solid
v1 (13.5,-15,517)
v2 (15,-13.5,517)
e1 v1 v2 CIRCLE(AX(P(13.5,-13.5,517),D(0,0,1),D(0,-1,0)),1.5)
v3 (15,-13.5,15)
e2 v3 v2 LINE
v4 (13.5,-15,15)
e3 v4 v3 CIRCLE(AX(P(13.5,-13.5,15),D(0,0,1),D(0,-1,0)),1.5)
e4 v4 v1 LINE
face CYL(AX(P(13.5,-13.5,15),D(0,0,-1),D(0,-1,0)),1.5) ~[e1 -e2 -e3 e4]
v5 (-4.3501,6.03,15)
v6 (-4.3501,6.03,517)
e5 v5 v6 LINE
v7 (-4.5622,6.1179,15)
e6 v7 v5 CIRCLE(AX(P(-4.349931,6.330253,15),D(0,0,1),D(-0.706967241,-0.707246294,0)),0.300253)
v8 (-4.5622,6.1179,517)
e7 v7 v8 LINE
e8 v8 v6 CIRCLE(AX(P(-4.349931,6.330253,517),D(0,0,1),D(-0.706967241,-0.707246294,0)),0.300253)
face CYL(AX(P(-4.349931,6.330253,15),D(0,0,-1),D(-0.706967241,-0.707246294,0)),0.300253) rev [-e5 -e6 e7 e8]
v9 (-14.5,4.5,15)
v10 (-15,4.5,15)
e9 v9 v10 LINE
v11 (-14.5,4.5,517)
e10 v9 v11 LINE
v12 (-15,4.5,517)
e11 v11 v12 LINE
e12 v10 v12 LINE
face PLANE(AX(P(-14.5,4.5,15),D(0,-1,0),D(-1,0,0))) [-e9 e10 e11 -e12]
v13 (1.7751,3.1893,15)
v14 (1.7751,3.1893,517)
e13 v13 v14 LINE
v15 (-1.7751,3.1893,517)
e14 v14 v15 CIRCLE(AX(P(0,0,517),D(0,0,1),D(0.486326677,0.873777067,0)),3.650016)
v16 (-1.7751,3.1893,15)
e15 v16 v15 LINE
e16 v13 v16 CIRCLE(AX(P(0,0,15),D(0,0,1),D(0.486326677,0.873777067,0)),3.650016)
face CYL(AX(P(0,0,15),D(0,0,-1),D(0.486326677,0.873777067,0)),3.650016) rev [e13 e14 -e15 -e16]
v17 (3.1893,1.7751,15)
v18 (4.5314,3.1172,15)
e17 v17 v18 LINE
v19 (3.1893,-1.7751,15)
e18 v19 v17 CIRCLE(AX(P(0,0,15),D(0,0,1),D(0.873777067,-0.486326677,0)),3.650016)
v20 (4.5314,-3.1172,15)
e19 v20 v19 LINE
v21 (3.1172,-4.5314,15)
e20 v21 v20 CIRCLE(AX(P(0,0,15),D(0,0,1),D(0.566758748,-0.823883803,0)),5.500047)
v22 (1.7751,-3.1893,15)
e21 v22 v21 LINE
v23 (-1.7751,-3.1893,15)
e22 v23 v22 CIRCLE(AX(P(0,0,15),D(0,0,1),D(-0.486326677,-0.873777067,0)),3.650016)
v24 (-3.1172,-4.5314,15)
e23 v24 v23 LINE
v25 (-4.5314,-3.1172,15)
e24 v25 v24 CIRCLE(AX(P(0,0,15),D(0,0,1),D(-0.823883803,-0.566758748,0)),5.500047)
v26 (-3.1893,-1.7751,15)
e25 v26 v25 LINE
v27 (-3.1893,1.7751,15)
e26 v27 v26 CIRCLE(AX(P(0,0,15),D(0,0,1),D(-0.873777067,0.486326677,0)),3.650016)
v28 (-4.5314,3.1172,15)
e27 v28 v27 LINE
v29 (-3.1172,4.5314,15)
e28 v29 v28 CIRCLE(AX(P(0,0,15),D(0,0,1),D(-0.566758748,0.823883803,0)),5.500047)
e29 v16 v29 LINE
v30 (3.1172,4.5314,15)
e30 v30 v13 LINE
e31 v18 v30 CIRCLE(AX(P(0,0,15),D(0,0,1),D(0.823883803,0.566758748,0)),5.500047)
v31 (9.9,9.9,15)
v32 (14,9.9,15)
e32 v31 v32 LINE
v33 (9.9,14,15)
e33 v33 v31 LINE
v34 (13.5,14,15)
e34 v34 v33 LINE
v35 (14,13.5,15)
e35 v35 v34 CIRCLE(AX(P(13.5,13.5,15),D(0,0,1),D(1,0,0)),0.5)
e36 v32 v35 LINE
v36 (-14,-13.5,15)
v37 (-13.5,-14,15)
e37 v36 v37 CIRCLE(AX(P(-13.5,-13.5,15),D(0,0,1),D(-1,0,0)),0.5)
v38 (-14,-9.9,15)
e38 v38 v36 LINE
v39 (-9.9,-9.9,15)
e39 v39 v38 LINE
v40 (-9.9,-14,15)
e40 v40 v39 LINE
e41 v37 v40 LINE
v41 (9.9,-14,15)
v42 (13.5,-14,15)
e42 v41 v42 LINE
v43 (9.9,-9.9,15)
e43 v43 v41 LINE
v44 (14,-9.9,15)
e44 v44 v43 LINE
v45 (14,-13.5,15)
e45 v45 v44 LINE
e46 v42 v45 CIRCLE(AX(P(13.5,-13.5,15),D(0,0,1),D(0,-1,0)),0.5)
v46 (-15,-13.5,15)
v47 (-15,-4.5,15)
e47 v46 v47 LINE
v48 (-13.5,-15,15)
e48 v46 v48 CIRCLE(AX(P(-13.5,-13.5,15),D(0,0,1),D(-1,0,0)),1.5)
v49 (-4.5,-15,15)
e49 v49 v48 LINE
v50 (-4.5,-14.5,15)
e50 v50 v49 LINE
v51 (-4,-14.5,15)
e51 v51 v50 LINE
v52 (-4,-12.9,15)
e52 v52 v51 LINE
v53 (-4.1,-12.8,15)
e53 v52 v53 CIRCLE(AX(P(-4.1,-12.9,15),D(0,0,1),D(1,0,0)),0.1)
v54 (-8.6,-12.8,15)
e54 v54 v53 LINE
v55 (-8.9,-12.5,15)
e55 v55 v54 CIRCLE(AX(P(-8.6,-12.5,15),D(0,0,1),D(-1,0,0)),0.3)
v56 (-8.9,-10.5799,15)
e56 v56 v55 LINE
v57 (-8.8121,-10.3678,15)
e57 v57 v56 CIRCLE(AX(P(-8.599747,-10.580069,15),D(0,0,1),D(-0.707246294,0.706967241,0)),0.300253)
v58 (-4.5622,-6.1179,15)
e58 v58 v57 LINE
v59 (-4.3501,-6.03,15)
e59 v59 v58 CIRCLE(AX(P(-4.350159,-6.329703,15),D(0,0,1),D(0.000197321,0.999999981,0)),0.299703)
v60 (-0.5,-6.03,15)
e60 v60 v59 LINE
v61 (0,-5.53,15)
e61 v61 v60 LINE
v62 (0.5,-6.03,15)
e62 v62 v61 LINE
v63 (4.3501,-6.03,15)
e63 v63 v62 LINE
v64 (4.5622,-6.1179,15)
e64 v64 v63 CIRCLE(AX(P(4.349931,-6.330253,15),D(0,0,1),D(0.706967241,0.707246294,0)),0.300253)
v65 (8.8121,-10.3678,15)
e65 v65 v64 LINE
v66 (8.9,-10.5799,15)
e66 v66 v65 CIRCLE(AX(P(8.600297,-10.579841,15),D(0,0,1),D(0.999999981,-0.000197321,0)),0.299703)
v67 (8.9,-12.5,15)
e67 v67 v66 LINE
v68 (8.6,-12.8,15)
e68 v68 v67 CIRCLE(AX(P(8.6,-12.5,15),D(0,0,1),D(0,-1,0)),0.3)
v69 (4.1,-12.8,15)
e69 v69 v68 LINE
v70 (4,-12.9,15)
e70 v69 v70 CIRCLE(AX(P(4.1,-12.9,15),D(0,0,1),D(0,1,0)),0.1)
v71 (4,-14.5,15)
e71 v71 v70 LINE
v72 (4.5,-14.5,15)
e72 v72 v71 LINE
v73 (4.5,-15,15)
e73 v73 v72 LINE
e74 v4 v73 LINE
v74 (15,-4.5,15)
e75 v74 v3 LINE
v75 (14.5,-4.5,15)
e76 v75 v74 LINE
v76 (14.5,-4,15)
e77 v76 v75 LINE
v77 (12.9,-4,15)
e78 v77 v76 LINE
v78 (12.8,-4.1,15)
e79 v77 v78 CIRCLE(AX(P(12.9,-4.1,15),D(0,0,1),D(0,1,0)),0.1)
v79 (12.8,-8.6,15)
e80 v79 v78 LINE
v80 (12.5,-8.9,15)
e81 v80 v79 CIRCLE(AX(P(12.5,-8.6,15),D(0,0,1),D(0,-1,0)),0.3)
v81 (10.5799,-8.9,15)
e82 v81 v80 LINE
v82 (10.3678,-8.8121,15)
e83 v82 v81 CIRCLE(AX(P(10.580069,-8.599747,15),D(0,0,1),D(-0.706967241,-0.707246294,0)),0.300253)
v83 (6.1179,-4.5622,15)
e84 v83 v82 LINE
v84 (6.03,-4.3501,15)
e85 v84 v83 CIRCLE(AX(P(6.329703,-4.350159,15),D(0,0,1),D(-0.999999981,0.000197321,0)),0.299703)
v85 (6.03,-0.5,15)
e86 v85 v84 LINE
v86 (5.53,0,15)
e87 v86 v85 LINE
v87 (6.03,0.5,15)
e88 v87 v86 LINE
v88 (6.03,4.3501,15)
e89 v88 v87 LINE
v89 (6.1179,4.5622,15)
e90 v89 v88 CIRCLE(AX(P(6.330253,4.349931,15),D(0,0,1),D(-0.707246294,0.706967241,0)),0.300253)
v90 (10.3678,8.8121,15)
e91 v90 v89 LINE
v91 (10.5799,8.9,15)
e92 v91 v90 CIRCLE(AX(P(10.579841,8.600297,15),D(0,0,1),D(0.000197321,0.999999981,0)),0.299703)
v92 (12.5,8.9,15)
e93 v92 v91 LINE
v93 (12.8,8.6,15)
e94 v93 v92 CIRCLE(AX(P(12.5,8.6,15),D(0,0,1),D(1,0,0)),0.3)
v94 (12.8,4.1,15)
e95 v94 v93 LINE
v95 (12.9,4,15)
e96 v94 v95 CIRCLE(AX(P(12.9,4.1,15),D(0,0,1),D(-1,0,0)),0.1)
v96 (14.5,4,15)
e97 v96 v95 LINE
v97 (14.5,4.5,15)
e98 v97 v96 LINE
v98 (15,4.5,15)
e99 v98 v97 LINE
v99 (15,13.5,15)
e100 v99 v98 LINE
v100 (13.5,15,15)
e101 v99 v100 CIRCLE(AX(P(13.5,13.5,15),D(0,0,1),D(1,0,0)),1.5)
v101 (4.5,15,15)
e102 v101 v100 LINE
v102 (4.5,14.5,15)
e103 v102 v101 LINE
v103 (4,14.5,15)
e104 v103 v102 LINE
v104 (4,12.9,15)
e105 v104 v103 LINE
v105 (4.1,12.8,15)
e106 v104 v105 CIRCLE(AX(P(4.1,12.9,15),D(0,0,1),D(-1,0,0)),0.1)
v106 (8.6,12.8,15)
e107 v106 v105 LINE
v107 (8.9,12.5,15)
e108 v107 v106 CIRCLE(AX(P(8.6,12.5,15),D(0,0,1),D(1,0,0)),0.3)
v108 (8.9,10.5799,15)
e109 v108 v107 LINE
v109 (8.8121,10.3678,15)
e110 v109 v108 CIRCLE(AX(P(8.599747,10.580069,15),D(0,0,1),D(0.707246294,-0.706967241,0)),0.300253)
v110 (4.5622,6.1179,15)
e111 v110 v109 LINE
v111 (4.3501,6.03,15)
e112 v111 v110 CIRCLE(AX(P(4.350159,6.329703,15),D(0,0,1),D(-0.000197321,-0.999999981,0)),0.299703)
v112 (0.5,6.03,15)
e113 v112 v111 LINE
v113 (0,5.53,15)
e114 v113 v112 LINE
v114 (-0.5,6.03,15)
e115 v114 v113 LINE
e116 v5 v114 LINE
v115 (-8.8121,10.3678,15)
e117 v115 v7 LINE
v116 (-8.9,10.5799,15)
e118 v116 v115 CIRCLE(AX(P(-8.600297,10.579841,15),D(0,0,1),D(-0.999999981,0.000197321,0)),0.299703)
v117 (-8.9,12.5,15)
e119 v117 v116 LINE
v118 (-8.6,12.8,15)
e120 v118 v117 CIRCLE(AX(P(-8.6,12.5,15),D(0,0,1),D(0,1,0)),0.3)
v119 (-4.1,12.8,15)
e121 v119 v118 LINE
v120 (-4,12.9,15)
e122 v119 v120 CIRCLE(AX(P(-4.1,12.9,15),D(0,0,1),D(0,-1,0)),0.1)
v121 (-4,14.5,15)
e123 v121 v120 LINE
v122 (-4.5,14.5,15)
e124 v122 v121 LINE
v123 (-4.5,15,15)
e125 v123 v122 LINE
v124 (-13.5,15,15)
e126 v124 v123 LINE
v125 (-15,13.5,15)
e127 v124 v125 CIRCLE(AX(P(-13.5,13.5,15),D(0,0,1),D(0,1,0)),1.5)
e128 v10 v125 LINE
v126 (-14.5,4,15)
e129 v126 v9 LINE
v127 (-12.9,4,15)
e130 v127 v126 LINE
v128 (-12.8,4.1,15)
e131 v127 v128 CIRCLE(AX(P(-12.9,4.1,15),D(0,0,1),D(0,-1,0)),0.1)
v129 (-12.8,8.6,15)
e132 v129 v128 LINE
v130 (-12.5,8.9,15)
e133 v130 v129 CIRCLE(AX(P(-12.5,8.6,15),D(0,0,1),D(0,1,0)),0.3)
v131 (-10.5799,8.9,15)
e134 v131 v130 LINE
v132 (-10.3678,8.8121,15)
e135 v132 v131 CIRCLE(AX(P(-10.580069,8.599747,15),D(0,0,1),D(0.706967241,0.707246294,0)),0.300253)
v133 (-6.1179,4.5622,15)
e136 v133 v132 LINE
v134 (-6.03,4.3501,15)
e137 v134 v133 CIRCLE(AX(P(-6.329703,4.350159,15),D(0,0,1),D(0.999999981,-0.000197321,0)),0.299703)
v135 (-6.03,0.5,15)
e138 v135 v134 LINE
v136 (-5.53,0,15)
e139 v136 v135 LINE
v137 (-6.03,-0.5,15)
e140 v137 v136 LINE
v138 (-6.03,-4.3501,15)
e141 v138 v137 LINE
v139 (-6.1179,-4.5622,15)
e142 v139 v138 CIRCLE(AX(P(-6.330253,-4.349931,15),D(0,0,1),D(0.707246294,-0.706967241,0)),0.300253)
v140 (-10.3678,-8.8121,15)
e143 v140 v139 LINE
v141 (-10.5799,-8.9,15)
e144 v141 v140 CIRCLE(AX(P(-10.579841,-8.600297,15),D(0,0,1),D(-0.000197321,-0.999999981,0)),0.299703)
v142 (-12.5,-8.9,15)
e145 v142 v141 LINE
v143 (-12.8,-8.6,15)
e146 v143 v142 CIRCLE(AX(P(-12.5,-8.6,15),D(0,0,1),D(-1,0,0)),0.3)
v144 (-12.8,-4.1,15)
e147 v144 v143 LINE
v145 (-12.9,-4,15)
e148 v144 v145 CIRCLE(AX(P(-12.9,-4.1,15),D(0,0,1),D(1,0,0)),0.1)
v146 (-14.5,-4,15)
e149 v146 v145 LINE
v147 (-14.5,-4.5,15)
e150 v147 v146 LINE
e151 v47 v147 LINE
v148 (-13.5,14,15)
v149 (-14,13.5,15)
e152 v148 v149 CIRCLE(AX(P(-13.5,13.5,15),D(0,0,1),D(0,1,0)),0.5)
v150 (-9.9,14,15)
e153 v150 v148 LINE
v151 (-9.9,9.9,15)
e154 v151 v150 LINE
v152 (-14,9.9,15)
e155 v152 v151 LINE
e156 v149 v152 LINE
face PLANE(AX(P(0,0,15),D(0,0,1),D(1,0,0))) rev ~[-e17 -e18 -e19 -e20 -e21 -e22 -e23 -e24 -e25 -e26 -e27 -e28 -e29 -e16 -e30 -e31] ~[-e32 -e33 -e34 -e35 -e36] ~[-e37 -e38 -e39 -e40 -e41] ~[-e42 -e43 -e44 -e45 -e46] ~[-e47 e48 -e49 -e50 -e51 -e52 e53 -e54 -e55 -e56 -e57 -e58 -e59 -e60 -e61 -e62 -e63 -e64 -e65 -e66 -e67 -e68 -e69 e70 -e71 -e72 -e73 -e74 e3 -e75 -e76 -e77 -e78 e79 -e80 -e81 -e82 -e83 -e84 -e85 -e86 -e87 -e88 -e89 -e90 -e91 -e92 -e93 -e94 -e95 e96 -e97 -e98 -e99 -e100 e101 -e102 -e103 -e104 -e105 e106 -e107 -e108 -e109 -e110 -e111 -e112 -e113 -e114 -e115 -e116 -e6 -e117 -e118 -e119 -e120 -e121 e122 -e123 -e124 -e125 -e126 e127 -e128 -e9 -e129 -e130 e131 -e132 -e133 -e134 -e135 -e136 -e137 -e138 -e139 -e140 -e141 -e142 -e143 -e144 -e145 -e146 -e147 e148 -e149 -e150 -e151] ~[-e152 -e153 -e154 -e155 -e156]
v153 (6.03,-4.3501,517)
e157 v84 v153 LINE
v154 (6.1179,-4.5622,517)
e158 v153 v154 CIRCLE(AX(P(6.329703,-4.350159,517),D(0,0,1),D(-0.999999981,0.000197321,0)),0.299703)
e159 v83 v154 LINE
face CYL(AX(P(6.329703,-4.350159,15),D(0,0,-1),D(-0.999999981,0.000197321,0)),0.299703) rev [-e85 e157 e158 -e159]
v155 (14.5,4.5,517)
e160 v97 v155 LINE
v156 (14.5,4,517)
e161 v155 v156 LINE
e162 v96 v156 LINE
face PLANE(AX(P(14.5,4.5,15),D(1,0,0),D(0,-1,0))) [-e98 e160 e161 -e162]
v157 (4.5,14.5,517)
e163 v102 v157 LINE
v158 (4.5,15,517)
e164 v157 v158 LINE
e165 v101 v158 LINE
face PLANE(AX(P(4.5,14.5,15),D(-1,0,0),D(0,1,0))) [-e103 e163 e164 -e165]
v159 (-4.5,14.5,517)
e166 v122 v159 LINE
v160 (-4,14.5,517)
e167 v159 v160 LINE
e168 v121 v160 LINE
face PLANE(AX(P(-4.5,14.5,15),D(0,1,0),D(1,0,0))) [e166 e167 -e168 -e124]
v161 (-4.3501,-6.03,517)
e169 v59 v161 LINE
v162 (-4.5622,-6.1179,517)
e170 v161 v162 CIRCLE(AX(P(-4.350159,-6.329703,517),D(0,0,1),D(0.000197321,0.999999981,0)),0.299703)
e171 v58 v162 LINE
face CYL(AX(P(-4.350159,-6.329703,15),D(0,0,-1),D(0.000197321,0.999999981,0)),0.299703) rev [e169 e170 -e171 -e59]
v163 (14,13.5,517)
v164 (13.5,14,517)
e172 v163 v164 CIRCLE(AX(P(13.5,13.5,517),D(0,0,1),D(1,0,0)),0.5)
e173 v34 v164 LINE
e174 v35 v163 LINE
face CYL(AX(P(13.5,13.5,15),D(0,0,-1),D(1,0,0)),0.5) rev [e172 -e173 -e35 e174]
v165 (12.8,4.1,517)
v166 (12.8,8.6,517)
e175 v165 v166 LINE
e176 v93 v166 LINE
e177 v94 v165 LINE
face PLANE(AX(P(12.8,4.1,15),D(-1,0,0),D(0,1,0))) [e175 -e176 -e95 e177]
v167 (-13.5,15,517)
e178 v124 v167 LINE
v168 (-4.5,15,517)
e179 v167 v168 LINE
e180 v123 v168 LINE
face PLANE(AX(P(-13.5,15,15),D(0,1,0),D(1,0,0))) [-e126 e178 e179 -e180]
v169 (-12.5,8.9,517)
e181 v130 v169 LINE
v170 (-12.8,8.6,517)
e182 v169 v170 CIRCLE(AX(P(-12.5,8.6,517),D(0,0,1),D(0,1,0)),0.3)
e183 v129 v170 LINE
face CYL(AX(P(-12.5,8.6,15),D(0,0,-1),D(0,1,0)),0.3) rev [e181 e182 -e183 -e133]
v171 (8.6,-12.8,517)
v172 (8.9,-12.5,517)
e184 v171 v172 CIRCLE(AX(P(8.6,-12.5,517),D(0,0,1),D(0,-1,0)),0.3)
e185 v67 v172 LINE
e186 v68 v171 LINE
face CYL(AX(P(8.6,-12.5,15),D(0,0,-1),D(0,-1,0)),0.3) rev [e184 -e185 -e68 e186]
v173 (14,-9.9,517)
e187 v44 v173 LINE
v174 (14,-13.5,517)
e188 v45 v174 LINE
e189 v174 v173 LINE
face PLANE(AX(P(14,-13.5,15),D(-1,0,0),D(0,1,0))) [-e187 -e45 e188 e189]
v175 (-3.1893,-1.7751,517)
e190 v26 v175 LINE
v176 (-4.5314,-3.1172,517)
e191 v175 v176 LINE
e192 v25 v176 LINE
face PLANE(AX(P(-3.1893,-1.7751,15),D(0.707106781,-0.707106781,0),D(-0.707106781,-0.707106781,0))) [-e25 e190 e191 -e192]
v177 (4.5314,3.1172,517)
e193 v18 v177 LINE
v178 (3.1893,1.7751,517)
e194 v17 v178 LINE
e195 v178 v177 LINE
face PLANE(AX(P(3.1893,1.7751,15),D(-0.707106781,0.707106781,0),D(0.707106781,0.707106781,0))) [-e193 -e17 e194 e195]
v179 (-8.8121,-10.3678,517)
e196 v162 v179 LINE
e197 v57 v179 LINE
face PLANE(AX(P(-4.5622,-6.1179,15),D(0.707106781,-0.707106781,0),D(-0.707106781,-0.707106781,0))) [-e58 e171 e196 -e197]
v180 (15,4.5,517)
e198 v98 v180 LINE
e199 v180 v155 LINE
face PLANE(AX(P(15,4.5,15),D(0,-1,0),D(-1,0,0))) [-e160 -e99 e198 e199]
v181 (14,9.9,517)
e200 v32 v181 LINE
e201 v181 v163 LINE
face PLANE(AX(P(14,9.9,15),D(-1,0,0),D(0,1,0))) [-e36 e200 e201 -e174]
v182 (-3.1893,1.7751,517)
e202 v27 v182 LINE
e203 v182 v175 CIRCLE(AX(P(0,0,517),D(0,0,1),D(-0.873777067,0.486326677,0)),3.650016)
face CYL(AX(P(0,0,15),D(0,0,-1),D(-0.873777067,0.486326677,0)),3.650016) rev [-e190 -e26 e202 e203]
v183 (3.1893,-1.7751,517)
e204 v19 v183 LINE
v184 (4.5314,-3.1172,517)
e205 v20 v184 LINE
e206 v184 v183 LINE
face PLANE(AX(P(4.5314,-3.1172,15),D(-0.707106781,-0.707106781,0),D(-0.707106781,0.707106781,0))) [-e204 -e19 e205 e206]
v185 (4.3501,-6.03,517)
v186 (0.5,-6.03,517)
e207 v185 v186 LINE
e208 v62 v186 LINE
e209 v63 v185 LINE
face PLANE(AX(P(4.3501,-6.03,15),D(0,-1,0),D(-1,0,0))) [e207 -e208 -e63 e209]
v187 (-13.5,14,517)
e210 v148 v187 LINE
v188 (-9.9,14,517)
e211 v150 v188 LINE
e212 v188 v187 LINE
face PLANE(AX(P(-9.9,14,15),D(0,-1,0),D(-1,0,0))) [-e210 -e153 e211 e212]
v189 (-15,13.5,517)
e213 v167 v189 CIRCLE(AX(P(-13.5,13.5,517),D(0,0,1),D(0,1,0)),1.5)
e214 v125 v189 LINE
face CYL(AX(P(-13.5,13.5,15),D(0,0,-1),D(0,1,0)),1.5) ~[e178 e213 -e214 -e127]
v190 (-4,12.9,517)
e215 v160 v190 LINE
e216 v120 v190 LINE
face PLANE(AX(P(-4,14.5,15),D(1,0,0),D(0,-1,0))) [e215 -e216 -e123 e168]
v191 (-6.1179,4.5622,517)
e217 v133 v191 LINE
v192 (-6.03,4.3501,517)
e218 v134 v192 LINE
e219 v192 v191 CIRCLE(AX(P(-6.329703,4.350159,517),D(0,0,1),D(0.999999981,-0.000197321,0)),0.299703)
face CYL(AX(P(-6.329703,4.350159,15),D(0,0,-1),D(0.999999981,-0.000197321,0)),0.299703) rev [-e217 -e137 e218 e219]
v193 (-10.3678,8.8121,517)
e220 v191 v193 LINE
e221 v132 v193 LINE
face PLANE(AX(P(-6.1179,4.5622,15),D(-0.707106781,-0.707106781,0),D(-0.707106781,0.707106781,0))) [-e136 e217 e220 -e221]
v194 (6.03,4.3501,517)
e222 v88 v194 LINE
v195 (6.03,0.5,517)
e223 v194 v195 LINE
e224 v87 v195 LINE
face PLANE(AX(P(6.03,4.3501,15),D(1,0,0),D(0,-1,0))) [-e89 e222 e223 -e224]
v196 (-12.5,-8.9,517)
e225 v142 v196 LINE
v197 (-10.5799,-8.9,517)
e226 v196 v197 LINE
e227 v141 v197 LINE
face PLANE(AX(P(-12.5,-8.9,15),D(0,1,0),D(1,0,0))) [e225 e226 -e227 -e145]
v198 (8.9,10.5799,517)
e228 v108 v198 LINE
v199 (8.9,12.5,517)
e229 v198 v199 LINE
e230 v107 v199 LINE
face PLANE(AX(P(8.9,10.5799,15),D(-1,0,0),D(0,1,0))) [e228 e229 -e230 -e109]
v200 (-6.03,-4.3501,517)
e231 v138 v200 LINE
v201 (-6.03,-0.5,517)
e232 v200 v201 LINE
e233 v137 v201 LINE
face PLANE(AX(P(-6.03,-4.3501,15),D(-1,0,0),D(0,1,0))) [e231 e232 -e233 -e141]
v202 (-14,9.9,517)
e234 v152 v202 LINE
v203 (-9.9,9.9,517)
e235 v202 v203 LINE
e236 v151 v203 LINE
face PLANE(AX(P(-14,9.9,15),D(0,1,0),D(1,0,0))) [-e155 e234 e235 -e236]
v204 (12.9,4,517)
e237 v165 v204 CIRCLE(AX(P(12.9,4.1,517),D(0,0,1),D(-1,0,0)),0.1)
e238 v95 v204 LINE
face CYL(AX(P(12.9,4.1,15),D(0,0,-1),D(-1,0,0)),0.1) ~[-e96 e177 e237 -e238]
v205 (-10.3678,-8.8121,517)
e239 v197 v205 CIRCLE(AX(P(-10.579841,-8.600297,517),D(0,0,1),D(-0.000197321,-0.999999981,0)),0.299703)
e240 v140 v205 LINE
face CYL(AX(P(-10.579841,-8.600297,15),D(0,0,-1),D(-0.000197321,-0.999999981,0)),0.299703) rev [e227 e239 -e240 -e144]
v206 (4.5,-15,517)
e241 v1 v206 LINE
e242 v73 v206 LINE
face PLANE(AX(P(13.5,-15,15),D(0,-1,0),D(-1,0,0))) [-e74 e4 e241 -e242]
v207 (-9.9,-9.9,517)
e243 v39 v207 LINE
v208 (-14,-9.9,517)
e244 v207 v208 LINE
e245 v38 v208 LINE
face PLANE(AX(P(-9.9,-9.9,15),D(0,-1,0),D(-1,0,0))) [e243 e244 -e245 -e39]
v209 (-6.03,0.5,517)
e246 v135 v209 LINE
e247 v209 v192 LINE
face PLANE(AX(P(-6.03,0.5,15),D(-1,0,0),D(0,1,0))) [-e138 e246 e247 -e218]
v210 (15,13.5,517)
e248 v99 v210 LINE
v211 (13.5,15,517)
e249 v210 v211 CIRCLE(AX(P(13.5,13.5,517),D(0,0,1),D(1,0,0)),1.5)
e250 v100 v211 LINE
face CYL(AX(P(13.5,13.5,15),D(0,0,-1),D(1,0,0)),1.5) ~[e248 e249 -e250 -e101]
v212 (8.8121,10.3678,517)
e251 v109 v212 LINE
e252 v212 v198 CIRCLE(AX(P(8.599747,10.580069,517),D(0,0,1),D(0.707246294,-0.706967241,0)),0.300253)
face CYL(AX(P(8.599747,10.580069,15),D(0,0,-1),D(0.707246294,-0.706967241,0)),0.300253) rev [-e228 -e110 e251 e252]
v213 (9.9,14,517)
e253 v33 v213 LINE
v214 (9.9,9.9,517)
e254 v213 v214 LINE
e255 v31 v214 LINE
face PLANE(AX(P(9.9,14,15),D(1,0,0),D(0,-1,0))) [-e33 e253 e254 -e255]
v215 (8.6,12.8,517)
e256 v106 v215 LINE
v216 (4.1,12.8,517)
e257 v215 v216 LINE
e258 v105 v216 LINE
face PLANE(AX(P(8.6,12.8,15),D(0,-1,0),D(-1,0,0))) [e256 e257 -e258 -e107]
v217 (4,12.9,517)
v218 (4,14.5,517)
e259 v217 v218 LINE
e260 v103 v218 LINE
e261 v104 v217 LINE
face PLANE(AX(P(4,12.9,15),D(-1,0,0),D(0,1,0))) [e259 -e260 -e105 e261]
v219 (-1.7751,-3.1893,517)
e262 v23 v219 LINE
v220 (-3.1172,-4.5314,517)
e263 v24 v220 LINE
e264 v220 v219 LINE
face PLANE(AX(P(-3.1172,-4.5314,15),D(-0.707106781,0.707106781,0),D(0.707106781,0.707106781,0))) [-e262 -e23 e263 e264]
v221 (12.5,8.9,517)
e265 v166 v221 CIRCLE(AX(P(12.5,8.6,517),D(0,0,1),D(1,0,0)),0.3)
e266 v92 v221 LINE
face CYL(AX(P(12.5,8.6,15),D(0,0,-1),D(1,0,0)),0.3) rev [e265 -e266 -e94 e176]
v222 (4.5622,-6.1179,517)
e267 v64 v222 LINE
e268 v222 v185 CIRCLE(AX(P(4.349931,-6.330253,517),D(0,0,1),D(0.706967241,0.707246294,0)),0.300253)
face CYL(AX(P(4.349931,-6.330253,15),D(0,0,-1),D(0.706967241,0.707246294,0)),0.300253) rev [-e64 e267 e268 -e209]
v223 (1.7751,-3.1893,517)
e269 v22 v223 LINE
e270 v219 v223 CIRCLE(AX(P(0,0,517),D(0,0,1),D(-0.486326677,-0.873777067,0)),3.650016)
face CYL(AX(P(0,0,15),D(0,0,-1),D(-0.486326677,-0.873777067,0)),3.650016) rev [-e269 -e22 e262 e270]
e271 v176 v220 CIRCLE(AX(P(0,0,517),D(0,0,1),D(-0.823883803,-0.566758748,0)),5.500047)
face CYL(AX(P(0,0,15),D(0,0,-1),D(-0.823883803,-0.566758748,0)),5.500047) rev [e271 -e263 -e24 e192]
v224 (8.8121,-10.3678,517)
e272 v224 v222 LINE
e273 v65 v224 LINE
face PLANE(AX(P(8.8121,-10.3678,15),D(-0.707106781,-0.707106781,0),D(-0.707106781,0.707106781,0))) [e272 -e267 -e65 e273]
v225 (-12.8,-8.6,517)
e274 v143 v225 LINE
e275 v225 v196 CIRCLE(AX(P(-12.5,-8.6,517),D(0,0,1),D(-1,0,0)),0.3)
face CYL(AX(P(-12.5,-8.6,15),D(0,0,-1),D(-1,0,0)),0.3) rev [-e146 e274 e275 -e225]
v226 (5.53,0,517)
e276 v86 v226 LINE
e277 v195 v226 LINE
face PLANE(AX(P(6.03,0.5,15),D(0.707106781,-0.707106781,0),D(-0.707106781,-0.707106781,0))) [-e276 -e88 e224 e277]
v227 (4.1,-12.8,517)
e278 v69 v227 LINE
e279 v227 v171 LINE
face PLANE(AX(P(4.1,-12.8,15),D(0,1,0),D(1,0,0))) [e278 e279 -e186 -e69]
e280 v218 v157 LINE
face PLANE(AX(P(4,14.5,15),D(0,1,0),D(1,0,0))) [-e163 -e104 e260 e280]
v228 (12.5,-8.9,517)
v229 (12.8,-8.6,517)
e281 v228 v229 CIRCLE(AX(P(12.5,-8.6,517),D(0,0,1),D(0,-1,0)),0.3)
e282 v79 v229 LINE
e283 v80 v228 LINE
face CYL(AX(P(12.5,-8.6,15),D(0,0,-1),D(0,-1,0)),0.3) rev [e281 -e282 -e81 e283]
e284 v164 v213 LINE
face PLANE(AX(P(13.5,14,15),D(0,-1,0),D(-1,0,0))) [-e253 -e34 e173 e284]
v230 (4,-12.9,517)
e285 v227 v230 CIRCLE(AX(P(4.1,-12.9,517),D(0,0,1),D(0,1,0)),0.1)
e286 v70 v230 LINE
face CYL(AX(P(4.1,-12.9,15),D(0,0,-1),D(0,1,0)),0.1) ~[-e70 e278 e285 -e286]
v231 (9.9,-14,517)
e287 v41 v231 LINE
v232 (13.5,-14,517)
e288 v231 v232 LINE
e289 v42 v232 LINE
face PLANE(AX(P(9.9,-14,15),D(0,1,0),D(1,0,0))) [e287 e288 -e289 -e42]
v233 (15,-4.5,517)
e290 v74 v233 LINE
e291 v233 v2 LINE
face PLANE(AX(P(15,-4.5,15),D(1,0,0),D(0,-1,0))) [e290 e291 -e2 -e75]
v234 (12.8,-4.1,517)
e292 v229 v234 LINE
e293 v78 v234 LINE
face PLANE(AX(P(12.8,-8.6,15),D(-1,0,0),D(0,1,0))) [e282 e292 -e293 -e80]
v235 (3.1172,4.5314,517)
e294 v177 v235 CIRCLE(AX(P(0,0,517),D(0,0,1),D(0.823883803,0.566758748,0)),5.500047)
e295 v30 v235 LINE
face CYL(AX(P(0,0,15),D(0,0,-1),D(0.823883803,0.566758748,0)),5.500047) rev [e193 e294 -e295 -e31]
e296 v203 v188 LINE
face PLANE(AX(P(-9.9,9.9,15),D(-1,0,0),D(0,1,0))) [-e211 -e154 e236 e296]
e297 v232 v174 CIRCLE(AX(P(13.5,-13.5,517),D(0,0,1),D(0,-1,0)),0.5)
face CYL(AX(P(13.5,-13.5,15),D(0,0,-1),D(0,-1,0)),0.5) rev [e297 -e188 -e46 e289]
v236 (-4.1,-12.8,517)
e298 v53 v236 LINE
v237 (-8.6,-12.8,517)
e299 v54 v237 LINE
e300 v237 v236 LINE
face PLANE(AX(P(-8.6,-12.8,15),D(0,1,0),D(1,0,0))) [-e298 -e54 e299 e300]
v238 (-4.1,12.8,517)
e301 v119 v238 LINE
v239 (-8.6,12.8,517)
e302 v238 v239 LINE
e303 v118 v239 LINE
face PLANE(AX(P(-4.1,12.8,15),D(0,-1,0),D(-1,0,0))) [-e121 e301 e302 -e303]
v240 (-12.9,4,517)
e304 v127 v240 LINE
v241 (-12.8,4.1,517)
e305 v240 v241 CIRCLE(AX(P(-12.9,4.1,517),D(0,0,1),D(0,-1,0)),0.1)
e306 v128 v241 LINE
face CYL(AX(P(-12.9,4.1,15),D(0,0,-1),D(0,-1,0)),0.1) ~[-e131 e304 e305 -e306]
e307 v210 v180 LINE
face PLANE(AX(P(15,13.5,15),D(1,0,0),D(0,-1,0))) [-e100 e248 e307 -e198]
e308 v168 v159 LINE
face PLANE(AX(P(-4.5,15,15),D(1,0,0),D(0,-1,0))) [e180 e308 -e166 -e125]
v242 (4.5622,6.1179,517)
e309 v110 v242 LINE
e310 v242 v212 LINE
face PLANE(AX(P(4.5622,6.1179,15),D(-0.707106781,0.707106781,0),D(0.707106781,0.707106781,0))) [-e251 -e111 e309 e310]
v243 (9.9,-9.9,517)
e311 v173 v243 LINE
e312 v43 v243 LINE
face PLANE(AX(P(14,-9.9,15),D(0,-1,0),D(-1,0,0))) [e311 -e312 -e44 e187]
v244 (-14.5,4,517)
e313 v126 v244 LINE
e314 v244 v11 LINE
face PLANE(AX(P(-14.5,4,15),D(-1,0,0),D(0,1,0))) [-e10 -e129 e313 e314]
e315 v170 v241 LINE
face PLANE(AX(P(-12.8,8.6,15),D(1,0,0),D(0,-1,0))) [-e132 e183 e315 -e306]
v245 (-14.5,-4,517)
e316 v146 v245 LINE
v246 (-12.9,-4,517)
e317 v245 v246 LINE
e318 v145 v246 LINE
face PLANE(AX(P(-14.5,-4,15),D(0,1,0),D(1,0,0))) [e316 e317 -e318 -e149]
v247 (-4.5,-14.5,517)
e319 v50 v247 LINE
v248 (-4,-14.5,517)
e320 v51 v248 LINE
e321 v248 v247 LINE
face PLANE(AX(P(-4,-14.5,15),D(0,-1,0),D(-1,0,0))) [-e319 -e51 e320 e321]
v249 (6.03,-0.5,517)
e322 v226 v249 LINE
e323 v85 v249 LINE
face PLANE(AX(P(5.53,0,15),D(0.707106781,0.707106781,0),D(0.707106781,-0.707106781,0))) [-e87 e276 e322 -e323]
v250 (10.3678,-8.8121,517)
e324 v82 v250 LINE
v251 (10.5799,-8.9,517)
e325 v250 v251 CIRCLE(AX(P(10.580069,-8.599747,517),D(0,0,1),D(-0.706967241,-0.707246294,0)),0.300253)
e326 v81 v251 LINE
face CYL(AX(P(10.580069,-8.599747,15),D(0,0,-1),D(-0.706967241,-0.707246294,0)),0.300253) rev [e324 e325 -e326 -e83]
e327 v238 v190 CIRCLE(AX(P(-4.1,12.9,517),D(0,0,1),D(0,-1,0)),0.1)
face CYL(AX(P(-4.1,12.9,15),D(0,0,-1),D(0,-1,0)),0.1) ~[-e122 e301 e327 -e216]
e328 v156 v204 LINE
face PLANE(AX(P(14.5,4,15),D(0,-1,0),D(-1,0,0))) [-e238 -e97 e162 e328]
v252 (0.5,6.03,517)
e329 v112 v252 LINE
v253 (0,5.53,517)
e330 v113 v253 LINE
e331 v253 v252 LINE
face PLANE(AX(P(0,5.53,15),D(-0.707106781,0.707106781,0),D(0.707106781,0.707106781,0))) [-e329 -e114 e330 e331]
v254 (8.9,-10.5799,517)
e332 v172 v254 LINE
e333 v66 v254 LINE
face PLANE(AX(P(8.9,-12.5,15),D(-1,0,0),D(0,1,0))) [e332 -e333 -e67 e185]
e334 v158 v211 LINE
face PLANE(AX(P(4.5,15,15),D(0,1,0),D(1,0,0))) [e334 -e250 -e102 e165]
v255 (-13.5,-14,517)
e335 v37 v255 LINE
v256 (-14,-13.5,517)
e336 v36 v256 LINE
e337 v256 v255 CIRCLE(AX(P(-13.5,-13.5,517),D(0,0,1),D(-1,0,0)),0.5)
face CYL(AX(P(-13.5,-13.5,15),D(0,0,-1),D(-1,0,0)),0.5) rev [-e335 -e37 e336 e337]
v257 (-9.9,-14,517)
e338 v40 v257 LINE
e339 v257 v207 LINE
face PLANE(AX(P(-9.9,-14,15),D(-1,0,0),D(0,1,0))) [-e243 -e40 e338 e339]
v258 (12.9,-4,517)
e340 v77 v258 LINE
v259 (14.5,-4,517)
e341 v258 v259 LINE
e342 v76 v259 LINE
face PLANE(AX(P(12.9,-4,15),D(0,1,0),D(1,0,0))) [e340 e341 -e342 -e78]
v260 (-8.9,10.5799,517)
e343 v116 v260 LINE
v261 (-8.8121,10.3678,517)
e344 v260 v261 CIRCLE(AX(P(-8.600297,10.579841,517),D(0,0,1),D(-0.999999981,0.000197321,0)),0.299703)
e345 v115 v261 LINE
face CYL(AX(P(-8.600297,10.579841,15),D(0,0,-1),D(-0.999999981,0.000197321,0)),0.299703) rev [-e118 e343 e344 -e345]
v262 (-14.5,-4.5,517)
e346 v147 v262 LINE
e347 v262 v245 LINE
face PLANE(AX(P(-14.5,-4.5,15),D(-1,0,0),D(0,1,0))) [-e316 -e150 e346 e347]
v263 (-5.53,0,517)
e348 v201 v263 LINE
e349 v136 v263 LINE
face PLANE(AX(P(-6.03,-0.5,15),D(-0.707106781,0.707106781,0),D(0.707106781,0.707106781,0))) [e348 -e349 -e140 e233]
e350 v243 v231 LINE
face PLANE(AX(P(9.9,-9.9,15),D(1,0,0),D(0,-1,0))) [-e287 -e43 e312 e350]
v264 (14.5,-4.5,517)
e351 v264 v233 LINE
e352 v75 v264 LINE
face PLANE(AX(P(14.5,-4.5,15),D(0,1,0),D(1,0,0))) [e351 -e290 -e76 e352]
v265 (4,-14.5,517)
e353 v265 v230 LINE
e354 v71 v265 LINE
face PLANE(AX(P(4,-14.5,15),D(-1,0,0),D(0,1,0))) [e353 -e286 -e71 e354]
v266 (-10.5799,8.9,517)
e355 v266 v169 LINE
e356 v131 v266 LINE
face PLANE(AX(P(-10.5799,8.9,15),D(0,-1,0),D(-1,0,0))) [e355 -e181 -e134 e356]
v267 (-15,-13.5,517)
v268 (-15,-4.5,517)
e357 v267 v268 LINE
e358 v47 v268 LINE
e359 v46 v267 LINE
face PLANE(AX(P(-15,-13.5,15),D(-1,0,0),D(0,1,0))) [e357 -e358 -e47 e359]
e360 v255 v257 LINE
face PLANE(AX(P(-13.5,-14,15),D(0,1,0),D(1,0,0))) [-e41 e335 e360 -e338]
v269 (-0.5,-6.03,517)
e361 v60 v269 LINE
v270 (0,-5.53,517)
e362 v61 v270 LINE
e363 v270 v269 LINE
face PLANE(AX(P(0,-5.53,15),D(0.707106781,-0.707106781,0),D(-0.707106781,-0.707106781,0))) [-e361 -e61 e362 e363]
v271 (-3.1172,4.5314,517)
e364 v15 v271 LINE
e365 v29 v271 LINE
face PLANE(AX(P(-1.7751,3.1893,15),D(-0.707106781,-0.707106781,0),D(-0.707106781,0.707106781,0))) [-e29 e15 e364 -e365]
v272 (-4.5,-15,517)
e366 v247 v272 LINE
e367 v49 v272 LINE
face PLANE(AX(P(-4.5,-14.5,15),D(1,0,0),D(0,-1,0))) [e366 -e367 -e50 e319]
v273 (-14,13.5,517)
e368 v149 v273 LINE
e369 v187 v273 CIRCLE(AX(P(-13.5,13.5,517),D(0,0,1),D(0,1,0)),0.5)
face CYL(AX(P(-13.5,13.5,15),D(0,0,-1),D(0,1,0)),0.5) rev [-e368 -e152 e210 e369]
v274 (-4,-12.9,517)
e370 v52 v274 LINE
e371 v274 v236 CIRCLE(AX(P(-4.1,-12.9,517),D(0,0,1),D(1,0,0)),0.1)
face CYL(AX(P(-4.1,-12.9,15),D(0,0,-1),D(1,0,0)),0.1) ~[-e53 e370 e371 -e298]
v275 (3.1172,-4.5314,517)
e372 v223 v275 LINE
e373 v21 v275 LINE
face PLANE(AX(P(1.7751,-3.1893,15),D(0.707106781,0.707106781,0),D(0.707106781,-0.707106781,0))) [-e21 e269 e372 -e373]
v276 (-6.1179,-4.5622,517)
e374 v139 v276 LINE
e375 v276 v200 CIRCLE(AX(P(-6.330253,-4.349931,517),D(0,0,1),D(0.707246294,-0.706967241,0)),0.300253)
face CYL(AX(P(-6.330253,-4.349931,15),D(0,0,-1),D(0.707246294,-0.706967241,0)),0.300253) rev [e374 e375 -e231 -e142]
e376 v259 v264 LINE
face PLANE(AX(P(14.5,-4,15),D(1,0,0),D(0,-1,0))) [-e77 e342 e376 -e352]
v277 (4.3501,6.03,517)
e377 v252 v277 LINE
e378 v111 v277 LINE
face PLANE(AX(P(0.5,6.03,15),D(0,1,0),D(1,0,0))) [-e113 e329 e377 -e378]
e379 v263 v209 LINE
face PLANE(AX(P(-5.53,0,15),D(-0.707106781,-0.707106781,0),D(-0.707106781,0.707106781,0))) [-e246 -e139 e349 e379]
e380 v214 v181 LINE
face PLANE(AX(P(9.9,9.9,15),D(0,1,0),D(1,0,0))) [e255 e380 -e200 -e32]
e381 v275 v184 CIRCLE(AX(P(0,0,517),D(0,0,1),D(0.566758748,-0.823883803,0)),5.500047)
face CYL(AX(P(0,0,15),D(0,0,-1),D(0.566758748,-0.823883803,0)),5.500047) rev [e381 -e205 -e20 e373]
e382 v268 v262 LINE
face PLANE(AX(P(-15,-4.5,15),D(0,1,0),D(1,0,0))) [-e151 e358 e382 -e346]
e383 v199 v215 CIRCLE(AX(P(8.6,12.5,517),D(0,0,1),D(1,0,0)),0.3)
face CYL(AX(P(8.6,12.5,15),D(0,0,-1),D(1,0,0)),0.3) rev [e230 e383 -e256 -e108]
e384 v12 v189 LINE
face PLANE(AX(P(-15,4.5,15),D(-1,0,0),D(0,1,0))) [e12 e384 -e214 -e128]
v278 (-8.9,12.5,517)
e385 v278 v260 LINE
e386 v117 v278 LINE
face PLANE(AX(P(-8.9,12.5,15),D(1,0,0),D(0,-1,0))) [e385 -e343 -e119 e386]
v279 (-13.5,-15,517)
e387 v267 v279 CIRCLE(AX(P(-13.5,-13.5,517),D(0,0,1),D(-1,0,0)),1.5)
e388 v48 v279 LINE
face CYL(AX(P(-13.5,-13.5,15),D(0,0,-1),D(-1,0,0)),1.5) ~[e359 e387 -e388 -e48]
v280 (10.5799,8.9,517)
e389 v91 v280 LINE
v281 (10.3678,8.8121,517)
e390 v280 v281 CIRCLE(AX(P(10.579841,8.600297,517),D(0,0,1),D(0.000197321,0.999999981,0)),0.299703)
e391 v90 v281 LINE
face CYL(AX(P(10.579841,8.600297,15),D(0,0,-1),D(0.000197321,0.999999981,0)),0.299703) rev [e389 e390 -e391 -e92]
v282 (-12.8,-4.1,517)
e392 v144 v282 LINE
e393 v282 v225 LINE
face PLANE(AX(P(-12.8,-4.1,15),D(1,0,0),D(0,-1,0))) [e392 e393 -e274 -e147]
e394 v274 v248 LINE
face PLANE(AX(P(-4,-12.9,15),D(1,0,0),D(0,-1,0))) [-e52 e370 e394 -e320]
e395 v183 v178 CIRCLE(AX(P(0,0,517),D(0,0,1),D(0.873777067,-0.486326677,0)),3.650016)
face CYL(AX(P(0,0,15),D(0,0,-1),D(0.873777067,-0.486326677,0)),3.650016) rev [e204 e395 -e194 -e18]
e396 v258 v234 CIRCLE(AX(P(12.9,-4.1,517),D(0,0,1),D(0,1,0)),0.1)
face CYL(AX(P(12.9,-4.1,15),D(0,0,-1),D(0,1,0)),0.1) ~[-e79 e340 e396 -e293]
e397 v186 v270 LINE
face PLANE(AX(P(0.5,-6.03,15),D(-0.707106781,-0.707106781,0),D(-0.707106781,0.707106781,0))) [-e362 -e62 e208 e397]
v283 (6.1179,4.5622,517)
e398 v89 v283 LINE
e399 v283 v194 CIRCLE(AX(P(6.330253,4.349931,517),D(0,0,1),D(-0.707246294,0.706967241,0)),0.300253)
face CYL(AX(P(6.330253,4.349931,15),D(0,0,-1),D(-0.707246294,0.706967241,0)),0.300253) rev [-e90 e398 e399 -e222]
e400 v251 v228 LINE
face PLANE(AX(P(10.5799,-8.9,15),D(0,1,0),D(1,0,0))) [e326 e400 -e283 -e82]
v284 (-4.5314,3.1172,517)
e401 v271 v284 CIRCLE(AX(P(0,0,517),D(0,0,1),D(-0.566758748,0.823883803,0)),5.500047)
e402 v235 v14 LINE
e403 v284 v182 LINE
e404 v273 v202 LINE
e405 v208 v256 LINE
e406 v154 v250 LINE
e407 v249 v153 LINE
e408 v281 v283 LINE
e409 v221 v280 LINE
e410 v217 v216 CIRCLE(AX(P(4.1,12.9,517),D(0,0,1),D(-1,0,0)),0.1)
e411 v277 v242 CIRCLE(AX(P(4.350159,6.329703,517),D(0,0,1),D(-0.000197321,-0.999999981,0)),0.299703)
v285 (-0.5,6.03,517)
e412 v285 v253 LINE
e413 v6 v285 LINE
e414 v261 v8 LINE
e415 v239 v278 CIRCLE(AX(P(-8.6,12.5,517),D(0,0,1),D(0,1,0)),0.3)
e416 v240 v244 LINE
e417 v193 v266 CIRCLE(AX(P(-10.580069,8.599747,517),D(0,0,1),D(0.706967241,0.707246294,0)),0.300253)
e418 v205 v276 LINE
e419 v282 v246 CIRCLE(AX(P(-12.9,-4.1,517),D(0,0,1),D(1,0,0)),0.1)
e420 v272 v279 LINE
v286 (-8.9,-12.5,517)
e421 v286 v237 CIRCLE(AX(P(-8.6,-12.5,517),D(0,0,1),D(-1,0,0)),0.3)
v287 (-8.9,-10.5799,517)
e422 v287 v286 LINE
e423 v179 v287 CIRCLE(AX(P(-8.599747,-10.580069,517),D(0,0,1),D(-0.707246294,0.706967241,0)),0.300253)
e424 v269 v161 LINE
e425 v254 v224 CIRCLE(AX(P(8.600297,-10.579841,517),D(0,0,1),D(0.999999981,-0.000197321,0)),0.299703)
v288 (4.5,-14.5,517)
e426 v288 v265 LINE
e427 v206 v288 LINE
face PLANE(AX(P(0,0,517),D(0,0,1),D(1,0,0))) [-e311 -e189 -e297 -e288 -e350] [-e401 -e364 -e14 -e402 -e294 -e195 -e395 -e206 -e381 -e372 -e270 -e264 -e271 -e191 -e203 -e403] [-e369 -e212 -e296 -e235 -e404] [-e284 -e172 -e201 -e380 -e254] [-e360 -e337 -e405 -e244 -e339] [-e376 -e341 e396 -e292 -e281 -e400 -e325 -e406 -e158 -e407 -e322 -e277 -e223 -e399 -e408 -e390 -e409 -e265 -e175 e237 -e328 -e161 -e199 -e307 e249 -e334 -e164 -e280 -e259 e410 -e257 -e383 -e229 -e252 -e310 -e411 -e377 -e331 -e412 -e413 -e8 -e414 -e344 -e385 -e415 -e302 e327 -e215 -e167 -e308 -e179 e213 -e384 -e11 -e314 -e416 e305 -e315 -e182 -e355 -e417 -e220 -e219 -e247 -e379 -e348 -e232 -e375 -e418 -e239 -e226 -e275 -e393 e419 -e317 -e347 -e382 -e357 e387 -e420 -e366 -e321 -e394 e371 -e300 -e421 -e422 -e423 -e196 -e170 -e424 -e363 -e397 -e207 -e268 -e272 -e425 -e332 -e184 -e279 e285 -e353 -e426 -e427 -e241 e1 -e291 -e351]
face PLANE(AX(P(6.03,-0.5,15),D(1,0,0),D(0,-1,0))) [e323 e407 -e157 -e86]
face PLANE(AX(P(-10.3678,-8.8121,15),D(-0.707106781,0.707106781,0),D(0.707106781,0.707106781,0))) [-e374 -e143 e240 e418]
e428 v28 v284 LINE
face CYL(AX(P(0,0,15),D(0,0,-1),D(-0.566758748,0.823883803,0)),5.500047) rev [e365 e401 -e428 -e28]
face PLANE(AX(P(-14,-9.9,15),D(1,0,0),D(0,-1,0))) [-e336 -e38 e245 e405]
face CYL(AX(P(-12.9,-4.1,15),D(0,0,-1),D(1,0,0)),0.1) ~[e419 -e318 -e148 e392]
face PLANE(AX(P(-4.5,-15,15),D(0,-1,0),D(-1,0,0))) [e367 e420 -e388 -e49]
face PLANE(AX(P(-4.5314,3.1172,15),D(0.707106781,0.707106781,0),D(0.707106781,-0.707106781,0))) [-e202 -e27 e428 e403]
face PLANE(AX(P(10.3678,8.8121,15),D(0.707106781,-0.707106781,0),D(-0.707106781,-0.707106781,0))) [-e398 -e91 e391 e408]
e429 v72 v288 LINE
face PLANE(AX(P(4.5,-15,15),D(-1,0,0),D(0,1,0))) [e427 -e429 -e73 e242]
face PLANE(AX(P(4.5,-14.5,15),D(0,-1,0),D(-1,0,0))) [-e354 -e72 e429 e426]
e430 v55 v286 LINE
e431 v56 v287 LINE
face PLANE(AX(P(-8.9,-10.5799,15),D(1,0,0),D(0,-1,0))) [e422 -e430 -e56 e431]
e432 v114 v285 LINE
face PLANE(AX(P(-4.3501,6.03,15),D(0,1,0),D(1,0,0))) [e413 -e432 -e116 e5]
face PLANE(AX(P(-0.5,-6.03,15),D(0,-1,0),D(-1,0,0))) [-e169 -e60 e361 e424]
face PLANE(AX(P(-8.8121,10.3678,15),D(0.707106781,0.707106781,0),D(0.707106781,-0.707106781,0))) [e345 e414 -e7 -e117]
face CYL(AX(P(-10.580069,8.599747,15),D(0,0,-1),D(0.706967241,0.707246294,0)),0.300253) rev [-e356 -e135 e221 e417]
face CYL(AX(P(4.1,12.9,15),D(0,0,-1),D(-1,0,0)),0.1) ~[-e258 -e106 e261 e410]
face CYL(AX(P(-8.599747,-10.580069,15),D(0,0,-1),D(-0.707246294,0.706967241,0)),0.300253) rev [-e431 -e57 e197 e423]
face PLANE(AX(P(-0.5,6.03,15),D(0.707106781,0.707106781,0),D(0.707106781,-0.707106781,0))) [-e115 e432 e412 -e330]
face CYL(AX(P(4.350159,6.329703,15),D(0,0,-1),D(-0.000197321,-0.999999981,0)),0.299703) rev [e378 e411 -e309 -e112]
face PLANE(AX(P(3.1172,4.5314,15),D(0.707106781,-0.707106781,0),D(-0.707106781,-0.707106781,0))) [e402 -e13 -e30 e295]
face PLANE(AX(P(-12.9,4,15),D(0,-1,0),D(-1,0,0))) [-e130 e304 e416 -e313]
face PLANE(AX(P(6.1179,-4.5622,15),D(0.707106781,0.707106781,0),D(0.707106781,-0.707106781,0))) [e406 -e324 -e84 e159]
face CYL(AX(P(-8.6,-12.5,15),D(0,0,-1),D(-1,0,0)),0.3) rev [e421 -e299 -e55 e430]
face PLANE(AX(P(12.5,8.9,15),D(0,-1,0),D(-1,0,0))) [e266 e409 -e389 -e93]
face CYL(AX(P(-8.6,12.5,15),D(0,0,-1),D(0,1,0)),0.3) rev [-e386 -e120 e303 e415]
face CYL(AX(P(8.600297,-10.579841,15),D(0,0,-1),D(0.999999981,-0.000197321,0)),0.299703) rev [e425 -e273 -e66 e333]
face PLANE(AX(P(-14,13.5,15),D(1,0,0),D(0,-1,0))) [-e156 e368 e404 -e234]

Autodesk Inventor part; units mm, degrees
ref_plane "Płaszczyzna początkowa" through (0, 0, 15) normal (0, 0, 1) x (1, 0, 0)
ref_plane "Płaszczyzna końcowa" through (0, 0, 517) normal (0, 0, 1) x (1, 0, 0)
sketch "Szkic" plane through (0, 0, 0) normal (0, 0, 1) x (1, 0, 0)
  line L0 (1.7751, -3.1893) -> (3.1172, -4.5314)
  arc A0 (-1.7751, -3.1893) -> (1.7751, -3.1893) centre (0, 0) ccw
  line L1 (-3.1172, -4.5314) -> (-1.7751, -3.1893)
  arc A1 (-4.5314, -3.1172) -> (-3.1172, -4.5314) centre (0, 0) ccw
  line L2 (-3.1893, -1.7751) -> (-4.5314, -3.1172)
  arc A2 (-3.1893, 1.7751) -> (-3.1893, -1.7751) centre (0, 0) ccw
  line L3 (-4.5314, 3.1172) -> (-3.1893, 1.7751)
  arc A3 (-3.1172, 4.5314) -> (-4.5314, 3.1172) centre (0, 0) ccw
  line L4 (-1.7751, 3.1893) -> (-3.1172, 4.5314)
  arc A4 (1.7751, 3.1893) -> (-1.7751, 3.1893) centre (0, 0) ccw
  line L5 (3.1172, 4.5314) -> (1.7751, 3.1893)
  arc A5 (4.5314, 3.1172) -> (3.1172, 4.5314) centre (0, 0) ccw
  line L6 (3.1893, 1.7751) -> (4.5314, 3.1172)
  arc A6 (3.1893, -1.7751) -> (3.1893, 1.7751) centre (0, 0) ccw
  line L7 (4.5314, -3.1172) -> (3.1893, -1.7751)
  arc A7 (3.1172, -4.5314) -> (4.5314, -3.1172) centre (0, 0) ccw
  line L8 (14, -13.5) -> (14, -9.9)
  arc A8 (13.5, -14) -> (14, -13.5) centre (13.5, -13.5) ccw
  line L9 (9.9, -14) -> (13.5, -14)
  line L10 (9.9, -9.9) -> (9.9, -14)
  line L11 (14, -9.9) -> (9.9, -9.9)
  line L12 (-9.9, -9.9) -> (-14, -9.9)
  line L13 (-9.9, -14) -> (-9.9, -9.9)
  line L14 (-13.5, -14) -> (-9.9, -14)
  arc A9 (-14, -13.5) -> (-13.5, -14) centre (-13.5, -13.5) ccw
  line L15 (-14, -9.9) -> (-14, -13.5)
  line L16 (14, 9.9) -> (14, 13.5)
  line L17 (9.9, 9.9) -> (14, 9.9)
  line L18 (9.9, 14) -> (9.9, 9.9)
  line L19 (13.5, 14) -> (9.9, 14)
  arc A10 (14, 13.5) -> (13.5, 14) centre (13.5, 13.5) ccw
  line L20 (-14, 9.9) -> (-9.9, 9.9)
  line L21 (-14, 13.5) -> (-14, 9.9)
  arc A11 (-13.5, 14) -> (-14, 13.5) centre (-13.5, 13.5) ccw
  line L22 (-9.9, 14) -> (-13.5, 14)
  line L23 (-9.9, 9.9) -> (-9.9, 14)
  line L24 (13.5, -15) -> (4.5, -15)
  arc A12 (13.5, -15) -> (15, -13.5) centre (13.5, -13.5) ccw
  line L25 (15, -4.5) -> (15, -13.5)
  line L26 (14.5, -4.5) -> (15, -4.5)
  line L27 (14.5, -4) -> (14.5, -4.5)
  line L28 (12.9, -4) -> (14.5, -4)
  arc A13 (12.9, -4) -> (12.8, -4.1) centre (12.9, -4.1) ccw
  line L29 (12.8, -8.6) -> (12.8, -4.1)
  arc A14 (12.5, -8.9) -> (12.8, -8.6) centre (12.5, -8.6) ccw
  line L30 (10.5799, -8.9) -> (12.5, -8.9)
  arc A15 (10.3678, -8.8121) -> (10.5799, -8.9) centre (10.5799, -8.6) ccw
  line L31 (6.1179, -4.5622) -> (10.3678, -8.8121)
  arc A16 (6.03, -4.3501) -> (6.1179, -4.5622) centre (6.33, -4.3501) ccw
  line L32 (6.03, -0.5) -> (6.03, -4.3501)
  line L33 (5.53, 0) -> (6.03, -0.5)
  line L34 (6.03, 0.5) -> (5.53, 0)
  line L35 (6.03, 4.3501) -> (6.03, 0.5)
  arc A17 (6.1179, 4.5622) -> (6.03, 4.3501) centre (6.33, 4.3501) ccw
  line L36 (10.3678, 8.8121) -> (6.1179, 4.5622)
  arc A18 (10.5799, 8.9) -> (10.3678, 8.8121) centre (10.5799, 8.6) ccw
  line L37 (12.5, 8.9) -> (10.5799, 8.9)
  arc A19 (12.8, 8.6) -> (12.5, 8.9) centre (12.5, 8.6) ccw
  line L38 (12.8, 4.1) -> (12.8, 8.6)
  arc A20 (12.8, 4.1) -> (12.9, 4) centre (12.9, 4.1) ccw
  line L39 (14.5, 4) -> (12.9, 4)
  line L40 (14.5, 4.5) -> (14.5, 4)
  line L41 (15, 4.5) -> (14.5, 4.5)
  line L42 (15, 13.5) -> (15, 4.5)
  arc A21 (15, 13.5) -> (13.5, 15) centre (13.5, 13.5) ccw
  line L43 (4.5, 15) -> (13.5, 15)
  line L44 (4.5, 14.5) -> (4.5, 15)
  line L45 (4, 14.5) -> (4.5, 14.5)
  line L46 (4, 12.9) -> (4, 14.5)
  arc A22 (4, 12.9) -> (4.1, 12.8) centre (4.1, 12.9) ccw
  line L47 (8.6, 12.8) -> (4.1, 12.8)
  arc A23 (8.9, 12.5) -> (8.6, 12.8) centre (8.6, 12.5) ccw
  line L48 (8.9, 10.5799) -> (8.9, 12.5)
  arc A24 (8.8121, 10.3678) -> (8.9, 10.5799) centre (8.6, 10.5799) ccw
  line L49 (4.5622, 6.1179) -> (8.8121, 10.3678)
  arc A25 (4.3501, 6.03) -> (4.5622, 6.1179) centre (4.3501, 6.33) ccw
  line L50 (0.5, 6.03) -> (4.3501, 6.03)
  line L51 (0, 5.53) -> (0.5, 6.03)
  line L52 (-0.5, 6.03) -> (0, 5.53)
  line L53 (-4.3501, 6.03) -> (-0.5, 6.03)
  arc A26 (-4.5622, 6.1179) -> (-4.3501, 6.03) centre (-4.3501, 6.33) ccw
  line L54 (-8.8121, 10.3678) -> (-4.5622, 6.1179)
  arc A27 (-8.9, 10.5799) -> (-8.8121, 10.3678) centre (-8.6, 10.5799) ccw
  line L55 (-8.9, 12.5) -> (-8.9, 10.5799)
  arc A28 (-8.6, 12.8) -> (-8.9, 12.5) centre (-8.6, 12.5) ccw
  line L56 (-4.1, 12.8) -> (-8.6, 12.8)
  arc A29 (-4.1, 12.8) -> (-4, 12.9) centre (-4.1, 12.9) ccw
  line L57 (-4, 14.5) -> (-4, 12.9)
  line L58 (-4.5, 14.5) -> (-4, 14.5)
  line L59 (-4.5, 15) -> (-4.5, 14.5)
  line L60 (-13.5, 15) -> (-4.5, 15)
  arc A30 (-13.5, 15) -> (-15, 13.5) centre (-13.5, 13.5) ccw
  line L61 (-15, 4.5) -> (-15, 13.5)
  line L62 (-14.5, 4.5) -> (-15, 4.5)
  line L63 (-14.5, 4) -> (-14.5, 4.5)
  line L64 (-12.9, 4) -> (-14.5, 4)
  arc A31 (-12.9, 4) -> (-12.8, 4.1) centre (-12.9, 4.1) ccw
  line L65 (-12.8, 8.6) -> (-12.8, 4.1)
  arc A32 (-12.5, 8.9) -> (-12.8, 8.6) centre (-12.5, 8.6) ccw
  line L66 (-10.5799, 8.9) -> (-12.5, 8.9)
  arc A33 (-10.3678, 8.8121) -> (-10.5799, 8.9) centre (-10.5799, 8.6) ccw
  line L67 (-6.1179, 4.5622) -> (-10.3678, 8.8121)
  arc A34 (-6.03, 4.3501) -> (-6.1179, 4.5622) centre (-6.33, 4.3501) ccw
  line L68 (-6.03, 0.5) -> (-6.03, 4.3501)
  line L69 (-5.53, 0) -> (-6.03, 0.5)
  line L70 (-6.03, -0.5) -> (-5.53, 0)
  line L71 (-6.03, -4.3501) -> (-6.03, -0.5)
  arc A35 (-6.1179, -4.5622) -> (-6.03, -4.3501) centre (-6.33, -4.3501) ccw
  line L72 (-10.3678, -8.8121) -> (-6.1179, -4.5622)
  arc A36 (-10.5799, -8.9) -> (-10.3678, -8.8121) centre (-10.5799, -8.6) ccw
  line L73 (-12.5, -8.9) -> (-10.5799, -8.9)
  arc A37 (-12.8, -8.6) -> (-12.5, -8.9) centre (-12.5, -8.6) ccw
  line L74 (-12.8, -4.1) -> (-12.8, -8.6)
  arc A38 (-12.8, -4.1) -> (-12.9, -4) centre (-12.9, -4.1) ccw
  line L75 (-14.5, -4) -> (-12.9, -4)
  line L76 (-14.5, -4.5) -> (-14.5, -4)
  line L77 (-15, -4.5) -> (-14.5, -4.5)
  line L78 (-15, -13.5) -> (-15, -4.5)
  arc A39 (-15, -13.5) -> (-13.5, -15) centre (-13.5, -13.5) ccw
  line L79 (-4.5, -15) -> (-13.5, -15)
  line L80 (-4.5, -14.5) -> (-4.5, -15)
  line L81 (-4, -14.5) -> (-4.5, -14.5)
  line L82 (-4, -12.9) -> (-4, -14.5)
  arc A40 (-4, -12.9) -> (-4.1, -12.8) centre (-4.1, -12.9) ccw
  line L83 (-8.6, -12.8) -> (-4.1, -12.8)
  arc A41 (-8.9, -12.5) -> (-8.6, -12.8) centre (-8.6, -12.5) ccw
  line L84 (-8.9, -10.5799) -> (-8.9, -12.5)
  arc A42 (-8.8121, -10.3678) -> (-8.9, -10.5799) centre (-8.6, -10.5799) ccw
  line L85 (-4.5622, -6.1179) -> (-8.8121, -10.3678)
  arc A43 (-4.3501, -6.03) -> (-4.5622, -6.1179) centre (-4.3501, -6.33) ccw
  line L86 (-0.5, -6.03) -> (-4.3501, -6.03)
  line L87 (0, -5.53) -> (-0.5, -6.03)
  line L88 (0.5, -6.03) -> (0, -5.53)
  line L89 (4.3501, -6.03) -> (0.5, -6.03)
  arc A44 (4.5622, -6.1179) -> (4.3501, -6.03) centre (4.3501, -6.33) ccw
  line L90 (8.8121, -10.3678) -> (4.5622, -6.1179)
  arc A45 (8.9, -10.5799) -> (8.8121, -10.3678) centre (8.6, -10.5799) ccw
  line L91 (8.9, -12.5) -> (8.9, -10.5799)
  arc A46 (8.6, -12.8) -> (8.9, -12.5) centre (8.6, -12.5) ccw
  line L92 (4.1, -12.8) -> (8.6, -12.8)
  arc A47 (4.1, -12.8) -> (4, -12.9) centre (4.1, -12.9) ccw
  line L93 (4, -14.5) -> (4, -12.9)
  line L94 (4.5, -14.5) -> (4, -14.5)
  line L95 (4.5, -15) -> (4.5, -14.5)
  point P0 (15, -15)
extrude "Bryła" add sketch "Szkic" along normal up to surface (502 mm away) from surface at 15
sketch "Szkic2" plane through (0, 0, 0) normal (0, 0, 1) x (1, 0, 0)
  line L0 (0, 0) -> (10, 0)
ref_plane "Płaszczyzna konstrukcyjna3" through (0, 0, 0) normal (0, -1, 0) x (1, 0, 0)
sketch "Szkic3" plane through (0, 0, 0) normal (0, -1, 0) x (1, 0, 0)
  line L0 (-2, 15) -> (12, 15)
  line L1 (-2, 517) -> (12, 517)
  dimension "d7" = 502
ref_plane "Płaszczyzna konstrukcyjna4" through (4.5, 535, 517) normal (0, 0, 1) x (1, 0, 0)
split "Podział1" plane through (4.5, 535, 517) removes the side toward (0, 0, 1)
ref_plane "Płaszczyzna konstrukcyjna5" through (4.5, -30, 15) normal (0, 0, -1) x (-1, 0, 0)
split "Podział2" plane through (4.5, -30, 15) removes the side toward (0, 0, -1)
equation "\"G_OFFSET_START\" = -15"
equation "\"G_OFFSET_END\" = -15"
equation "\"d2\" = -G_OFFSET_START"
equation "\"d3\" = Length + G_OFFSET_END"
equation "\"G_L\" = d7"
equation "\"Length\" = 532"
properties part number "COTS_ARMA_AR3703_30x30_Alu_Extr_00000007" material "Aluminium 6061"
